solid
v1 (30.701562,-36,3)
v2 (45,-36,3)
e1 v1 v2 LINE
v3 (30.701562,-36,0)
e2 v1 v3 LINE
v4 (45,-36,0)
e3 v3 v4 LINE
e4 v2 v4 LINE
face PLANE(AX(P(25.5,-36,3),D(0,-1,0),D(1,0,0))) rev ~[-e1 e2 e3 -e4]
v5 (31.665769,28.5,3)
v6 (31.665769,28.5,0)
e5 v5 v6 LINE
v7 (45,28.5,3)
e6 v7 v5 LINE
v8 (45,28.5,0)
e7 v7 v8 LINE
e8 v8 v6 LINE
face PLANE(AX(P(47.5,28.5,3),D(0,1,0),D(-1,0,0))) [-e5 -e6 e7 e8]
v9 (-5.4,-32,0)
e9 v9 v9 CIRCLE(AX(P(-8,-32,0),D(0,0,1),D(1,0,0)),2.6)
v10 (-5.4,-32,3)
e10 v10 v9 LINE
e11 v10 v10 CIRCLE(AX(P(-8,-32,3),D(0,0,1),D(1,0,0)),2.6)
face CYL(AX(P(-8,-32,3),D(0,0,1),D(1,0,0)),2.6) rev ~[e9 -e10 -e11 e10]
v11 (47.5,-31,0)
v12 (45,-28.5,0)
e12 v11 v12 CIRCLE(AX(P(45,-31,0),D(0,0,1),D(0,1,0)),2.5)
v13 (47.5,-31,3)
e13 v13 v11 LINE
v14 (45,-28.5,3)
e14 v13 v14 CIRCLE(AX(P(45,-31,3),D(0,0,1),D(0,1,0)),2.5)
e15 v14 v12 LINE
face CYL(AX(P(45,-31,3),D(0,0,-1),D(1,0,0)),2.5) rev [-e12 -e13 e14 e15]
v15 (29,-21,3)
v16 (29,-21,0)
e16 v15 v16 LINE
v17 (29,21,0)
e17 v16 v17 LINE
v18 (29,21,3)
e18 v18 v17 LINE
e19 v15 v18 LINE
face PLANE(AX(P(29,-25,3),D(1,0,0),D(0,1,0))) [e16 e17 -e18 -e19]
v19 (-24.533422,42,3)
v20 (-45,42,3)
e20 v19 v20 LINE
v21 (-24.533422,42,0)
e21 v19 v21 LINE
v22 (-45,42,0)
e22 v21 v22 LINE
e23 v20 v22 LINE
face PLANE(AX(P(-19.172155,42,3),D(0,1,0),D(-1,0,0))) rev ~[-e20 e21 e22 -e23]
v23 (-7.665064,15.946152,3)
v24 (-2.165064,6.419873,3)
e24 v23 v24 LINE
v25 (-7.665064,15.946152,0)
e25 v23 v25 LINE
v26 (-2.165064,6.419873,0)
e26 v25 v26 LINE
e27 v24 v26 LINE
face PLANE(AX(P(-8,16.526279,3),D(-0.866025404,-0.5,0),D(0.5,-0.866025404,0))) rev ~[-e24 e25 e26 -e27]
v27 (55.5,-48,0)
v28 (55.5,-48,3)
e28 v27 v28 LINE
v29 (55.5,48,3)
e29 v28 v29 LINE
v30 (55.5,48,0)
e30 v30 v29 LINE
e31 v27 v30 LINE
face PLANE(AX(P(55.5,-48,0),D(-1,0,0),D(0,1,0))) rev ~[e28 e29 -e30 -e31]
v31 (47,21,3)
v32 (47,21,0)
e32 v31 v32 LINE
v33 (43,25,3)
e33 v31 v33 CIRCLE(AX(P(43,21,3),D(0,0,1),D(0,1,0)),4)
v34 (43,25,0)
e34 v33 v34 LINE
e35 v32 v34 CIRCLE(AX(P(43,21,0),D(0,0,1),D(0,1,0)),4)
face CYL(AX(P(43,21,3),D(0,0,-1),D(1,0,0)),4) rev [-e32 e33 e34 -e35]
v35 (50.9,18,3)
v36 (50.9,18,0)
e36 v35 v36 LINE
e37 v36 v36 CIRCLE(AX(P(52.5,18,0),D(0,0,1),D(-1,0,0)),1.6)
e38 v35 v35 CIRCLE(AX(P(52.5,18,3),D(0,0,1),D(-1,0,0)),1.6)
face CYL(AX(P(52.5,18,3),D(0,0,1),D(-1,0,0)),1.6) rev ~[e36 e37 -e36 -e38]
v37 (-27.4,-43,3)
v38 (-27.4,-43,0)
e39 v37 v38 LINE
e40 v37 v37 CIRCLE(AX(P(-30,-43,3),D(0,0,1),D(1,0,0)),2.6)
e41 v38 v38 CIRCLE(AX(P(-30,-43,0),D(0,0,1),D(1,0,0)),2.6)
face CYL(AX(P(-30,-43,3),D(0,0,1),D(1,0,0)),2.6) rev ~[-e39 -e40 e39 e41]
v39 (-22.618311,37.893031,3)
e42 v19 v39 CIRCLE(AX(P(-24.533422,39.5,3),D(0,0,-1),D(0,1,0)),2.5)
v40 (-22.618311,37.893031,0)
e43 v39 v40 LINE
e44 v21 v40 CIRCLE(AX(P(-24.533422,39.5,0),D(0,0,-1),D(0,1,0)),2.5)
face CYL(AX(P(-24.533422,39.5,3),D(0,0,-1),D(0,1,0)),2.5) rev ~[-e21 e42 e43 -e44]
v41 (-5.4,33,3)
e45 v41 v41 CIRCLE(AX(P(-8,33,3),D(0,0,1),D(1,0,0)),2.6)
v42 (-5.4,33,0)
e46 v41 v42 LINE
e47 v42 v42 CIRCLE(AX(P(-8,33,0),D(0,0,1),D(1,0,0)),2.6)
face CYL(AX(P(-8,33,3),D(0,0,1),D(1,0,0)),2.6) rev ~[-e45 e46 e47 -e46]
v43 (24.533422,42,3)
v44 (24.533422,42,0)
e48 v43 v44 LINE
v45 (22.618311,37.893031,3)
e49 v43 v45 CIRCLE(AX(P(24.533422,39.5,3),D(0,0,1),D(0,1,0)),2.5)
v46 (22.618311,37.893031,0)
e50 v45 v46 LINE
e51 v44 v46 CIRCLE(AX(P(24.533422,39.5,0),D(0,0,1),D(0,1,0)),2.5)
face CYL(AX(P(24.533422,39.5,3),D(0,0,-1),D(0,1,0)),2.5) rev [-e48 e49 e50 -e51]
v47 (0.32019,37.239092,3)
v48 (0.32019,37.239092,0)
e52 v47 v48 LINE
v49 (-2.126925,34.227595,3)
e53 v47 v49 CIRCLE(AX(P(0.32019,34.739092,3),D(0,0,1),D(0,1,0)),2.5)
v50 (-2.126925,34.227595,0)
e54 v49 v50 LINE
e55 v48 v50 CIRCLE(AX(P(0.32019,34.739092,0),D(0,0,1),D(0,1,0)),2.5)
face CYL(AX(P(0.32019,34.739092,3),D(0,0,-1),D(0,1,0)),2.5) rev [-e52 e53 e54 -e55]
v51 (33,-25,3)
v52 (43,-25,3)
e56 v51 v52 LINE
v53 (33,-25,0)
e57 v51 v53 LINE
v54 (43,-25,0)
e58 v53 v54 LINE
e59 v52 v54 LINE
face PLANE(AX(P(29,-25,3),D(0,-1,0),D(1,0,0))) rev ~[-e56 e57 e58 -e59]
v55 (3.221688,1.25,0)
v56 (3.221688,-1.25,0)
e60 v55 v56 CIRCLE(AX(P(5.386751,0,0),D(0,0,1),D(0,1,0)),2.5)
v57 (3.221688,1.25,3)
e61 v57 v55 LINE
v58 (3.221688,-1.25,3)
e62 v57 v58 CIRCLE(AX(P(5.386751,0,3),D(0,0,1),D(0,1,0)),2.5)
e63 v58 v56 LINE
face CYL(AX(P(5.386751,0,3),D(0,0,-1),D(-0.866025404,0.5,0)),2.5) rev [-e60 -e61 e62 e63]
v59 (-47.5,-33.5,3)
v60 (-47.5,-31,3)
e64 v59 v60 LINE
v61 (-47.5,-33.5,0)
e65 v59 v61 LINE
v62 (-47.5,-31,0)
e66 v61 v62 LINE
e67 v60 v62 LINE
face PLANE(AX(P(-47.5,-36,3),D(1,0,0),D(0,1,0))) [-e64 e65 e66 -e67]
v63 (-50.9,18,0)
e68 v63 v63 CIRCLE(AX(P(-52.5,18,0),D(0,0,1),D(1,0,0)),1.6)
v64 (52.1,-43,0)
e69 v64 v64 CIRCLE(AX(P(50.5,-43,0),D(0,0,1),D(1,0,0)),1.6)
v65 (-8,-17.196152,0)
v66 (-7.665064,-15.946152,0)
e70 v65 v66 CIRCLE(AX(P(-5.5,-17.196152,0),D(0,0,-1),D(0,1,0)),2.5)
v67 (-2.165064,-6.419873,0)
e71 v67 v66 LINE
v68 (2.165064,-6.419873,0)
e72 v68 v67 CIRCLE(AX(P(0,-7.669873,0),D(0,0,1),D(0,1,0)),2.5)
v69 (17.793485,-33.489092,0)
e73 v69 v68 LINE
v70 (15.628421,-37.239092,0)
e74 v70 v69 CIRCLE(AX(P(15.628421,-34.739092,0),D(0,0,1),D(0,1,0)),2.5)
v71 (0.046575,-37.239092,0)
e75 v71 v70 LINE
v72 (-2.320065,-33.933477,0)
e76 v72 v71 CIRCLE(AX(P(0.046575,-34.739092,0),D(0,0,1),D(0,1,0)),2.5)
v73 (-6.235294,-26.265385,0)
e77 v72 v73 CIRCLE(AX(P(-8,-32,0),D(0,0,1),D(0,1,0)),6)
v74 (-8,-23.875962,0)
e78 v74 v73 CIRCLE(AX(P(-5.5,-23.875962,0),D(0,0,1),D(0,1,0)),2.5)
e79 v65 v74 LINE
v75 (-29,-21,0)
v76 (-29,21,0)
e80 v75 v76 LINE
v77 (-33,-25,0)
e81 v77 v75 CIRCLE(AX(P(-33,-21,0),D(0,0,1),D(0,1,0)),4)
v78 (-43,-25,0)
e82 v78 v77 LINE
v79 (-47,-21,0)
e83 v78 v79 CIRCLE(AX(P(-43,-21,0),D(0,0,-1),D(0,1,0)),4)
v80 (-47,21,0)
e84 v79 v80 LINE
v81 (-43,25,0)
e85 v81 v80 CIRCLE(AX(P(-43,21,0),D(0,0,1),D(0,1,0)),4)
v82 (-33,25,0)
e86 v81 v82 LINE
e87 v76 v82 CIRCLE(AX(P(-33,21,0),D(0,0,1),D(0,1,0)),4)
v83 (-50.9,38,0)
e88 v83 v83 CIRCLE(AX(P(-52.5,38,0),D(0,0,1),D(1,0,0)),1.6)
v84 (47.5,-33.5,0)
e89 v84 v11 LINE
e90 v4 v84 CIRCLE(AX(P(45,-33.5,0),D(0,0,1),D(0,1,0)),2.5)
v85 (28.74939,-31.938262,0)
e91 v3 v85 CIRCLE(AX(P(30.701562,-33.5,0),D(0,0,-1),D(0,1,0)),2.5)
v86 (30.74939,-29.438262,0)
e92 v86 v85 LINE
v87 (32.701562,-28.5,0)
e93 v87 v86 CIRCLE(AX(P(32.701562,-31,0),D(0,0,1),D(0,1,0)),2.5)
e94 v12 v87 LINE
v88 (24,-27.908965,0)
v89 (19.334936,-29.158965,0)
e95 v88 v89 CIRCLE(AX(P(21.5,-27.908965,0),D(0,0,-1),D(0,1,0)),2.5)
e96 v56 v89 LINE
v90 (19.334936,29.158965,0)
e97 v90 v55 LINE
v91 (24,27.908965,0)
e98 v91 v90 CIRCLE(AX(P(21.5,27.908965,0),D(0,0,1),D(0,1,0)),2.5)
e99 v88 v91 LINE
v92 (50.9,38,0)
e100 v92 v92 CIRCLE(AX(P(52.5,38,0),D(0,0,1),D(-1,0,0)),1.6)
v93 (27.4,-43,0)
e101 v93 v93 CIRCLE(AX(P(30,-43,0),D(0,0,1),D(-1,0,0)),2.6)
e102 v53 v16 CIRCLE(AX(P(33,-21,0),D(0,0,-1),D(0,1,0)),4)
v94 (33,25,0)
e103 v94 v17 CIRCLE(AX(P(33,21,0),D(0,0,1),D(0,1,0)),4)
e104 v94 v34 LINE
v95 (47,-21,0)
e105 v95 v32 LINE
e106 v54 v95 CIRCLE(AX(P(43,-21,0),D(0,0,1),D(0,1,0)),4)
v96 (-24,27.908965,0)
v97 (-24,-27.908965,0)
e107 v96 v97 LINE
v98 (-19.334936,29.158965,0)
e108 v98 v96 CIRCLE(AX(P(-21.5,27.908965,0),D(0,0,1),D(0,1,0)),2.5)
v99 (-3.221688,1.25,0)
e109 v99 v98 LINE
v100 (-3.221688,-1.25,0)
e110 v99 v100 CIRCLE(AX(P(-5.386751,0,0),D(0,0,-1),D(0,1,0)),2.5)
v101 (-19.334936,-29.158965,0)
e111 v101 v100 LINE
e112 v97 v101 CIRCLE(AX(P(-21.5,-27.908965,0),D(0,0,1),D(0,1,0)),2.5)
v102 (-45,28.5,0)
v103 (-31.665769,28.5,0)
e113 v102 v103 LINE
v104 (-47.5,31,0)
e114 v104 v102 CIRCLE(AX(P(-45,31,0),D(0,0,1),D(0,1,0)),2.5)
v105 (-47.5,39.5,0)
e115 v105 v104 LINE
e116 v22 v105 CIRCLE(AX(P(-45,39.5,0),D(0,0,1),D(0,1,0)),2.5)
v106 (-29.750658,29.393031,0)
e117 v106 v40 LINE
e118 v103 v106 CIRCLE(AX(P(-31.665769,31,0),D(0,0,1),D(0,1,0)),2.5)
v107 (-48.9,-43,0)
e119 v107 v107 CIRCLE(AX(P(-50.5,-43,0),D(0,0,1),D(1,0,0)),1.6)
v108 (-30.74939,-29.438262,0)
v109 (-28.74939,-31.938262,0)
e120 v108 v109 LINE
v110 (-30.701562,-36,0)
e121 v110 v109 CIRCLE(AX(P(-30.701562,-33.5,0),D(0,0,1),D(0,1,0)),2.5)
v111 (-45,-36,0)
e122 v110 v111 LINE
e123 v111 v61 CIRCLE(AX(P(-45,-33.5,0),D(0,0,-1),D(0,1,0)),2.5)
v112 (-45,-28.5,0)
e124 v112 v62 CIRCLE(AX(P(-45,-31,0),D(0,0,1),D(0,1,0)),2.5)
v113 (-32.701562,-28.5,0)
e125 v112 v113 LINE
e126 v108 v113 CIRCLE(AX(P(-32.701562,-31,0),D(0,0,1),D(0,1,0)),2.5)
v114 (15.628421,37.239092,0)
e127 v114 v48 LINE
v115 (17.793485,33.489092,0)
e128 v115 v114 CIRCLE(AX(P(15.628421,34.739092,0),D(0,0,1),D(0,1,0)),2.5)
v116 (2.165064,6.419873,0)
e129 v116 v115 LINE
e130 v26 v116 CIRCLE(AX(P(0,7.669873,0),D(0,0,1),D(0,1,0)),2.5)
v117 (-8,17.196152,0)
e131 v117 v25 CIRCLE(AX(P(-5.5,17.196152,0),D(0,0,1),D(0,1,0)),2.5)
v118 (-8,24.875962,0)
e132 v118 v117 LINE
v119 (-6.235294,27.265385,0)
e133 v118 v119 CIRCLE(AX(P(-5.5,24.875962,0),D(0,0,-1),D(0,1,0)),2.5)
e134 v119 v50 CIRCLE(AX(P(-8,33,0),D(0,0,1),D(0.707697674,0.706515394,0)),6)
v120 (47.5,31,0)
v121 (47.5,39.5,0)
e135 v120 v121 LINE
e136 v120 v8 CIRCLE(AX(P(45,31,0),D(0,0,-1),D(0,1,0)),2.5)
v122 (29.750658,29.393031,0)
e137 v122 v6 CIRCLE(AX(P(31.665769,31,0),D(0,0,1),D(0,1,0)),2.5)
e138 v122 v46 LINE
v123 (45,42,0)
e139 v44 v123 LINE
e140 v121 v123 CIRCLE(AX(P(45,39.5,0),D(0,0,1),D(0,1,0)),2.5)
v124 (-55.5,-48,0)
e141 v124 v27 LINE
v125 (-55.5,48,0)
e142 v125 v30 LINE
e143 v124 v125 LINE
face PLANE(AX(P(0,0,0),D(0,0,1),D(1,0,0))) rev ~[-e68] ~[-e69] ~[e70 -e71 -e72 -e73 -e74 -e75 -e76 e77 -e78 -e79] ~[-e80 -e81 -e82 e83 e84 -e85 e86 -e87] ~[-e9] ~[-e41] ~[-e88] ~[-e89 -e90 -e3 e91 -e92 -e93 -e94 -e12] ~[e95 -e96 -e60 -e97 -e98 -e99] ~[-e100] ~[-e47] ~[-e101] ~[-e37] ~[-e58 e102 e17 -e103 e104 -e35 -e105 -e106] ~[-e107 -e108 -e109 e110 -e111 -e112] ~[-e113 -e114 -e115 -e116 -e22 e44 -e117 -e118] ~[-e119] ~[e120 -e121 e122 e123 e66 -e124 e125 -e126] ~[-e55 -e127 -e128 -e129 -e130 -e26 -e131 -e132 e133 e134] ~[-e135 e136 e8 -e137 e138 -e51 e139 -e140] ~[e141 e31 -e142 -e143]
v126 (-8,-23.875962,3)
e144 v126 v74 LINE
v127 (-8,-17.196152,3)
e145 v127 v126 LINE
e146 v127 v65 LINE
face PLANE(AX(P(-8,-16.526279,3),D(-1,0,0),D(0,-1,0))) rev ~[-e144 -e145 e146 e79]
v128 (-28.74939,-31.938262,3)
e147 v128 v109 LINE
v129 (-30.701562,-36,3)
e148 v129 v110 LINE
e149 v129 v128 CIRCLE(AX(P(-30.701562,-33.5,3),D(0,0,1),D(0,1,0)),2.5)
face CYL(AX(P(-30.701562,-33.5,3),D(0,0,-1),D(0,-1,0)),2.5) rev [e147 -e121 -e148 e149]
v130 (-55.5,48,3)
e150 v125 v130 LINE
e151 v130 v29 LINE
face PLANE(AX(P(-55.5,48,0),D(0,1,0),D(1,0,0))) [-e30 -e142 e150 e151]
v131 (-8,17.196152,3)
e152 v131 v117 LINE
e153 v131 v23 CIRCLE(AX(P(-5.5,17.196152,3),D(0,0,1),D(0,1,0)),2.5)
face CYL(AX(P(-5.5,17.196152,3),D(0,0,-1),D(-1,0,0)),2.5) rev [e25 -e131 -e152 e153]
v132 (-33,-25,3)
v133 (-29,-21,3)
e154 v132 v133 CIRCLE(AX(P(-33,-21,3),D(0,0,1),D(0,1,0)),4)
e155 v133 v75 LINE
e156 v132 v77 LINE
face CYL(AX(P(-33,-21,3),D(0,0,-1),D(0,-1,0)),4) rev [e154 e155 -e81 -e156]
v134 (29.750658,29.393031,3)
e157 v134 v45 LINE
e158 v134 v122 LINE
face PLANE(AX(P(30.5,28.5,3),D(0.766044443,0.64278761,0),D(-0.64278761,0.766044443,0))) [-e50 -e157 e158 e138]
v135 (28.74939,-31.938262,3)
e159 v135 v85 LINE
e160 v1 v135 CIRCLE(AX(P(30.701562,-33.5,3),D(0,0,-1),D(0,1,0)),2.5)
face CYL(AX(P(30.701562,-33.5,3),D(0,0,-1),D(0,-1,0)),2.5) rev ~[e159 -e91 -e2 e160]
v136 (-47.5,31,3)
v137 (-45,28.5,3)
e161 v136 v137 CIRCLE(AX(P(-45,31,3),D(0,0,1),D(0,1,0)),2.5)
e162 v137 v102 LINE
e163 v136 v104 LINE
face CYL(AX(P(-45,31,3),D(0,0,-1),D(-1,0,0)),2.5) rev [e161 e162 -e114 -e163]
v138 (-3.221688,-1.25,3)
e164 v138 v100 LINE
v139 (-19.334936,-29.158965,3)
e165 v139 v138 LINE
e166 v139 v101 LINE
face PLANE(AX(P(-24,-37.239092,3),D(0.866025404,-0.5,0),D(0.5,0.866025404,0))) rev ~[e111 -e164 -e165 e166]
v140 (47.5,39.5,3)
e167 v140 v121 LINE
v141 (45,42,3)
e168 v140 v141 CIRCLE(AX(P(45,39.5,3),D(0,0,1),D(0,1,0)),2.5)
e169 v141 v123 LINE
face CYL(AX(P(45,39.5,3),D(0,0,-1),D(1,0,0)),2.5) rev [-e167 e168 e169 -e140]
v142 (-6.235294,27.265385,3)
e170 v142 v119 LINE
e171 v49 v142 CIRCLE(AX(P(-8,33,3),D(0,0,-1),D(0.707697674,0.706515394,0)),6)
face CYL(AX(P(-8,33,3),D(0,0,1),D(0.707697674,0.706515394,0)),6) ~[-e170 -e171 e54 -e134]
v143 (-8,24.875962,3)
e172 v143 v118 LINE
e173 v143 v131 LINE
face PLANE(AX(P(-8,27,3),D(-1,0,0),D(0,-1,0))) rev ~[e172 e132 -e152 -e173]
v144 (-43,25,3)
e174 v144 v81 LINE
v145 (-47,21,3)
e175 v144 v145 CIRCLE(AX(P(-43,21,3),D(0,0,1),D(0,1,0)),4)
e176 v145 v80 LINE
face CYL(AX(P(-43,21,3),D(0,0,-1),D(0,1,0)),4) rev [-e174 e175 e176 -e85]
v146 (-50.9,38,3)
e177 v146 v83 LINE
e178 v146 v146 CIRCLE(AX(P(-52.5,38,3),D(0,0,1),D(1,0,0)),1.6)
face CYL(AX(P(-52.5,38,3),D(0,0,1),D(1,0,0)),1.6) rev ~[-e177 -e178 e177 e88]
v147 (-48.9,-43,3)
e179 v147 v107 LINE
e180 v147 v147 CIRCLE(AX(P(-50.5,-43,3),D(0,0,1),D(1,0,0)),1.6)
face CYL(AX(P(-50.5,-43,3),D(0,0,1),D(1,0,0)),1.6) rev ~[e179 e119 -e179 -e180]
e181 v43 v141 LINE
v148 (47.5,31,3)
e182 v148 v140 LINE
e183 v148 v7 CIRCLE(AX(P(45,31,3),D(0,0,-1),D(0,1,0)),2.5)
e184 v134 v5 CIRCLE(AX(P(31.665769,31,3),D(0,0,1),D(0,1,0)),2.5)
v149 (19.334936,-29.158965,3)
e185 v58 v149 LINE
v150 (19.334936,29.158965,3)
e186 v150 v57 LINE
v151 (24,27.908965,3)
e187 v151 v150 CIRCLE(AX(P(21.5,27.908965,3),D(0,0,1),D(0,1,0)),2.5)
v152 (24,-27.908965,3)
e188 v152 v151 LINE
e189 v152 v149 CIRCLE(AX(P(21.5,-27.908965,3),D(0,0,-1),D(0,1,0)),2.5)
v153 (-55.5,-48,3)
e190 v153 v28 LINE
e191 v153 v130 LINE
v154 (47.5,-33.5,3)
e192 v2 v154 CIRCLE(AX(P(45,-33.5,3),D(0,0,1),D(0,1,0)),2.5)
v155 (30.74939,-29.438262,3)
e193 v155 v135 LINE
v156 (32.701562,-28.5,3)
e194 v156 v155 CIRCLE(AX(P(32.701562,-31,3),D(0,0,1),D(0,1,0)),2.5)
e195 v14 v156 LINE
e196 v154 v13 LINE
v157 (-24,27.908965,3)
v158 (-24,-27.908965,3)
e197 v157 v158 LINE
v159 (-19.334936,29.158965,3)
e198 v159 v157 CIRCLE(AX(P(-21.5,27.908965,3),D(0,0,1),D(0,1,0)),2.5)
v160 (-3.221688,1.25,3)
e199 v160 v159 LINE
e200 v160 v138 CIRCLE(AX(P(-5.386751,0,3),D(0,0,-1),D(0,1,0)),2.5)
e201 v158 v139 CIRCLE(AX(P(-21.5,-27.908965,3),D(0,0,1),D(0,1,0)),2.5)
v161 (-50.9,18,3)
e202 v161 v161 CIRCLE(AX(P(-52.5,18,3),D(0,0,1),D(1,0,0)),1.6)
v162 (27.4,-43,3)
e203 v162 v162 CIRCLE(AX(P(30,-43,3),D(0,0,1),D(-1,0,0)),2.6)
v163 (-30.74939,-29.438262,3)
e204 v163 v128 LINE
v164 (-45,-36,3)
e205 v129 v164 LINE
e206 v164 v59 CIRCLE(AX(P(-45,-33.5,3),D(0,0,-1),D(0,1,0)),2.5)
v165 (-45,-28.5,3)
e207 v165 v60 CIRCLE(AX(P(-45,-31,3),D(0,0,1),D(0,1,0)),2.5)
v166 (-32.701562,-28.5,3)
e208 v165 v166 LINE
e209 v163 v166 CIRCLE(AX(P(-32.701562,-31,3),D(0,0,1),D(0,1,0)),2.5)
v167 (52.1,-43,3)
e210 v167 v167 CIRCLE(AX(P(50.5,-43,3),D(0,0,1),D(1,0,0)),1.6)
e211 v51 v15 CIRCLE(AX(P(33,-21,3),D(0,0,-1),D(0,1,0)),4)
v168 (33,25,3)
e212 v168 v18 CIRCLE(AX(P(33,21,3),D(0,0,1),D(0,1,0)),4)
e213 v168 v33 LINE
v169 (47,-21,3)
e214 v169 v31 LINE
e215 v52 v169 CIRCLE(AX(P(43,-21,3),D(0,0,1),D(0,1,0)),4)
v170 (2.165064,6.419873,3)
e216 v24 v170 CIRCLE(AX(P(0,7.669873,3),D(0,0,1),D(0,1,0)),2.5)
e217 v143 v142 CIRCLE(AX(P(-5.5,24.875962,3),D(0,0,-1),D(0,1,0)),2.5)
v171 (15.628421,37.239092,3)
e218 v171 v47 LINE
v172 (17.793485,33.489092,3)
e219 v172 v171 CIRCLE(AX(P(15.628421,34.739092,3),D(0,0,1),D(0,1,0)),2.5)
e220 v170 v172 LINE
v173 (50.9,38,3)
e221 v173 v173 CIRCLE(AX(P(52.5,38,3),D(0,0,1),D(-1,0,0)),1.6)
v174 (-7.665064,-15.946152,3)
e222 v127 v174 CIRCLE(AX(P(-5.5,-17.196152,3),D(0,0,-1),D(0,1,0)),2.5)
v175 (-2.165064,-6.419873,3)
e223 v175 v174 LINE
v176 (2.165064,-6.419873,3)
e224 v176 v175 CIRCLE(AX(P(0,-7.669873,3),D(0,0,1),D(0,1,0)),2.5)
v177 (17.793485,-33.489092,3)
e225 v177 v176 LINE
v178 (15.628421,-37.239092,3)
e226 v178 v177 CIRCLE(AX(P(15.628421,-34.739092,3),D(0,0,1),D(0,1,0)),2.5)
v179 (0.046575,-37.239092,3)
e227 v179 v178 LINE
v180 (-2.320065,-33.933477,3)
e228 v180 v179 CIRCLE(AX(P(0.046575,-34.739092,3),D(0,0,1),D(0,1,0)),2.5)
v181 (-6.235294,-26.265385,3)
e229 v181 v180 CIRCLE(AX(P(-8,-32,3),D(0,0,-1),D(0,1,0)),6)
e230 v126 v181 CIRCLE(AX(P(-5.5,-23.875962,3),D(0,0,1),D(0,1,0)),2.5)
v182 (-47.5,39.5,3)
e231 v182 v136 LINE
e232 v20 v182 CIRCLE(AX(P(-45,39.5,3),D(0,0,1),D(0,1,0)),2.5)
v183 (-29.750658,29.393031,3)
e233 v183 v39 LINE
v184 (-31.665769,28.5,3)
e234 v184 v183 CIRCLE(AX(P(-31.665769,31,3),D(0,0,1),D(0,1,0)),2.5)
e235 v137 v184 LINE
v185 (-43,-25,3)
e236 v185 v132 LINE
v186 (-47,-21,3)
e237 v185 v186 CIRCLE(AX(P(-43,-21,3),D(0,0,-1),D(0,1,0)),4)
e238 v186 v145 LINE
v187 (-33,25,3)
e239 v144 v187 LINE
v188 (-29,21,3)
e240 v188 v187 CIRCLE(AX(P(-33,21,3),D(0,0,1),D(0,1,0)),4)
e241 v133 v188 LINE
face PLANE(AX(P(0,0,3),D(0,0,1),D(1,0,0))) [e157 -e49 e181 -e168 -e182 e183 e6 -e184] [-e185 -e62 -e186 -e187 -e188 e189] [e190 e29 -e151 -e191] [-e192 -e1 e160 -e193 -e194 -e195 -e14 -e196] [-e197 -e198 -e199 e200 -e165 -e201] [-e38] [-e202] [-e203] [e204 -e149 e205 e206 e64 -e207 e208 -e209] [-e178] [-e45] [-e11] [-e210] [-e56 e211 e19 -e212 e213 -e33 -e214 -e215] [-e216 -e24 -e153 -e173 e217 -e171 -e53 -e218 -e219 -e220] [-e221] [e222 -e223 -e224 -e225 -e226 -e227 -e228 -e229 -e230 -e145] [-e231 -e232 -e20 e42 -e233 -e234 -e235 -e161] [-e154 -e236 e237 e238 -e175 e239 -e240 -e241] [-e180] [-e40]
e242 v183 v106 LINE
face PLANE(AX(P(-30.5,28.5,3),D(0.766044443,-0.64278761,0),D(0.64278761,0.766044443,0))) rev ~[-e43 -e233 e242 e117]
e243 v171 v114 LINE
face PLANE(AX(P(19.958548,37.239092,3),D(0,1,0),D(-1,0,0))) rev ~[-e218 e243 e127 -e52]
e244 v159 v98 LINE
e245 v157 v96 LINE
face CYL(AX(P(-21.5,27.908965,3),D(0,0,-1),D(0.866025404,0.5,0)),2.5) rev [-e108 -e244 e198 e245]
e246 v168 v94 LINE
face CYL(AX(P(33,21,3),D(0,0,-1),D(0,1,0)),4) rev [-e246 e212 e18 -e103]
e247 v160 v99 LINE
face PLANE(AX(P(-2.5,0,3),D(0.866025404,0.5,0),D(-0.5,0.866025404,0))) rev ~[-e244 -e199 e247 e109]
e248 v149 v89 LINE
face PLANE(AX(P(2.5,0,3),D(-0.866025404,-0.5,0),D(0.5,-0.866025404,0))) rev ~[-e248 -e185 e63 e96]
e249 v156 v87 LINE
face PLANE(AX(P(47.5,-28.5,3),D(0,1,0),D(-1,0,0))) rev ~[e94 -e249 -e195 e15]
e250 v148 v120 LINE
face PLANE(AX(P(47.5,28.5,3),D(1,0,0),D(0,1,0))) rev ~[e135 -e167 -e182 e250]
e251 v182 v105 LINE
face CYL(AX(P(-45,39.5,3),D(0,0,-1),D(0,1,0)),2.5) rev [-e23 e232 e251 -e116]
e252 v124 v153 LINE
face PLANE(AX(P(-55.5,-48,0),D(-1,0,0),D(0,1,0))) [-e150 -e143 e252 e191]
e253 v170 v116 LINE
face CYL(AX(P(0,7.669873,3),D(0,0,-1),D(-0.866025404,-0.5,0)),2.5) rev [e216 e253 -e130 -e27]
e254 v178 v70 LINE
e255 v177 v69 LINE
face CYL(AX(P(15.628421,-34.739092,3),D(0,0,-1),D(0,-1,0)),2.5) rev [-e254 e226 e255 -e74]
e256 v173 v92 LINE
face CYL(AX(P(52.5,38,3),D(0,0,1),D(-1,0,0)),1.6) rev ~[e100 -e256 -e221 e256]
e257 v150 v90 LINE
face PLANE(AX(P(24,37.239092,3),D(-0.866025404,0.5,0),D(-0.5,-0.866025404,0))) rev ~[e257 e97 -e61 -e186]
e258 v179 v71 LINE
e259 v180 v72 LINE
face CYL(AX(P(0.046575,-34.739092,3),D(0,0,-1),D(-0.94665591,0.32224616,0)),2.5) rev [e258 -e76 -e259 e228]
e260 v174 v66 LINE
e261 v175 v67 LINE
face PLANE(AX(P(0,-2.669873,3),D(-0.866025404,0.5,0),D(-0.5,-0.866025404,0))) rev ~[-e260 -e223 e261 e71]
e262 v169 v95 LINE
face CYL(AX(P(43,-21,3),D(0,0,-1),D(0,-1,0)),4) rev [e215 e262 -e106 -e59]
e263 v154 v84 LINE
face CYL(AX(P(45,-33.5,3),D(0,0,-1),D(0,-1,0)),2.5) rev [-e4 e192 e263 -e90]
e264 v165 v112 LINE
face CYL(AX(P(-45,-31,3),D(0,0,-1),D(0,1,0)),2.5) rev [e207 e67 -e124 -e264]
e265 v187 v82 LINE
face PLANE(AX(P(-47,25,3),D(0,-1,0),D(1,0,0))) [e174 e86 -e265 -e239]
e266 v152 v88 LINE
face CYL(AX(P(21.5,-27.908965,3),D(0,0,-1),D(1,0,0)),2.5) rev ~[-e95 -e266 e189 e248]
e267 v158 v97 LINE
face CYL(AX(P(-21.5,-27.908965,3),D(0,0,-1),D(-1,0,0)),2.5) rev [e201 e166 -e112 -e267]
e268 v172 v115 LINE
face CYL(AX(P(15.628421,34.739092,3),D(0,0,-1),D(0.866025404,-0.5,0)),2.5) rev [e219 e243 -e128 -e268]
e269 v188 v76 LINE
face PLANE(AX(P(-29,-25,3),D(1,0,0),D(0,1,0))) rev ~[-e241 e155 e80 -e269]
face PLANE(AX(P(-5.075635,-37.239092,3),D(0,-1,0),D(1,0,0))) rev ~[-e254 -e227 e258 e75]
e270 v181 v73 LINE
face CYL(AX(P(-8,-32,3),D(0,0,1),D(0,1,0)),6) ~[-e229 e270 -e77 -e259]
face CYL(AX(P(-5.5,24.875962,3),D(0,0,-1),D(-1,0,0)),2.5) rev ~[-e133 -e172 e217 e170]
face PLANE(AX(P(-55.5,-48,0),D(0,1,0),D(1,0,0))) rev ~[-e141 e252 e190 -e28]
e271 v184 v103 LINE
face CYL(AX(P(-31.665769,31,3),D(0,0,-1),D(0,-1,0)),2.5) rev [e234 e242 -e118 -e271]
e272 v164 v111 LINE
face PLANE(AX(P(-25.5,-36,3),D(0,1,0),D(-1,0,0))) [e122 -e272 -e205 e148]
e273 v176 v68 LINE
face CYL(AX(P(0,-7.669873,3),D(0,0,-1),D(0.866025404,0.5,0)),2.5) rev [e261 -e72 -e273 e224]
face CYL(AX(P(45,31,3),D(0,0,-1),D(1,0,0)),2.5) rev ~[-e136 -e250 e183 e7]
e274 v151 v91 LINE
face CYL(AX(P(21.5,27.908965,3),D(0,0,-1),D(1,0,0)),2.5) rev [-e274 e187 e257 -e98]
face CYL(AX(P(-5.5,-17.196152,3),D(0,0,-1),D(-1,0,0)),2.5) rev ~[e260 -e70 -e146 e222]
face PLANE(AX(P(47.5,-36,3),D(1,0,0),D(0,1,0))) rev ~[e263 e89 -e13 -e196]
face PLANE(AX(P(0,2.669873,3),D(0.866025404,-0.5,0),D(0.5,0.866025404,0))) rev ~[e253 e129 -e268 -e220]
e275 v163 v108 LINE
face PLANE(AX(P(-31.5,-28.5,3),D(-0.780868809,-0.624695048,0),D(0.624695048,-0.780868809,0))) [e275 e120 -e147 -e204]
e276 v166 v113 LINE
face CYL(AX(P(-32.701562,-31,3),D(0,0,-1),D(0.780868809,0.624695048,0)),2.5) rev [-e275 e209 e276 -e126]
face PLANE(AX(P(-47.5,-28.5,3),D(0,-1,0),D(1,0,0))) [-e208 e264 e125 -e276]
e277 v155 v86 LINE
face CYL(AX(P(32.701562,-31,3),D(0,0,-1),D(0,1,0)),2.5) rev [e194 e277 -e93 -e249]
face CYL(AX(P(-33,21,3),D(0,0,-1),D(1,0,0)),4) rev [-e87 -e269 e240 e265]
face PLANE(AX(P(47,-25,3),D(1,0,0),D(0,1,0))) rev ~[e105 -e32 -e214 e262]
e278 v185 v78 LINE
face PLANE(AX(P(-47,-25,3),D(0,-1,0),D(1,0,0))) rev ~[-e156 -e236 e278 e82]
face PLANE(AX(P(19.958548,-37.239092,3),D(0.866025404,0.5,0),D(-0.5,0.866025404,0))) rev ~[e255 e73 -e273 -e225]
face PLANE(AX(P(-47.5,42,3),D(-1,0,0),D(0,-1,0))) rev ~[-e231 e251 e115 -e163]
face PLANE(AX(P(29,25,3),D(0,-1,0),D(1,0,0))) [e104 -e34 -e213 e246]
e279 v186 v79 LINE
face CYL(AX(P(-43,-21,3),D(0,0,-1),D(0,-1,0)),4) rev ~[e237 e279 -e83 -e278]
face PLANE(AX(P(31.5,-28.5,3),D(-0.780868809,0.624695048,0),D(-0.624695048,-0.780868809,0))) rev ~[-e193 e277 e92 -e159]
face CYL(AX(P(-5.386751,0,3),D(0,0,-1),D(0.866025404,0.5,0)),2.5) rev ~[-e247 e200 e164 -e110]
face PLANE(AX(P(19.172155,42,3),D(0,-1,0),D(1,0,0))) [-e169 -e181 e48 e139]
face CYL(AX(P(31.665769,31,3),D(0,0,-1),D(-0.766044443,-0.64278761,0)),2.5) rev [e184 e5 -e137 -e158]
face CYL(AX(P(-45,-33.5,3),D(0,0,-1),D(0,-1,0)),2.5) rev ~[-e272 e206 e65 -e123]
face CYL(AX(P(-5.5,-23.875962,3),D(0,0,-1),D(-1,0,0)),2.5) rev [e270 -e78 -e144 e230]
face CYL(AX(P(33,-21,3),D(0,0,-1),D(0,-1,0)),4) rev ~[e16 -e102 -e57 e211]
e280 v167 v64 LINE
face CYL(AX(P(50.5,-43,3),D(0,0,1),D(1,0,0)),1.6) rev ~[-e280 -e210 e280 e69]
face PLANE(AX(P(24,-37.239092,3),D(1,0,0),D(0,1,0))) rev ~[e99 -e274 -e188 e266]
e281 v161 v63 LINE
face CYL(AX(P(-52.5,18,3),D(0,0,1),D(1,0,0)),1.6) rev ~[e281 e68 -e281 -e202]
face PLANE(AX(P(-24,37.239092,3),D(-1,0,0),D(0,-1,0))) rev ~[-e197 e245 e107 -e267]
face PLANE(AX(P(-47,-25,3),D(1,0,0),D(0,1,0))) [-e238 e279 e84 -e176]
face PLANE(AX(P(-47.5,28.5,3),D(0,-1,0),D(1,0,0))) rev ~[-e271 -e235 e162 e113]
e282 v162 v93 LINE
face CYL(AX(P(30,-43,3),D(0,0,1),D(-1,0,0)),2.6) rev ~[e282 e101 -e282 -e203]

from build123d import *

# Parameters (mm, degrees)
SKETCH_1_W           = 111
SKETCH_1_H           = 96
EXTRUDE_1_DEPTH      = 3
SKETCH_2_R           = 1.6
CUT_EXTRUDE_1_DEPTH  = 74.438749989
SKETCH_3_R           = 2.6
CUT_EXTRUDE_2_DEPTH  = 74.438749989
SKETCH_4_R           = 1.6
CUT_EXTRUDE_3_DEPTH  = 74.438749989
SKETCH_8_R           = 2.6
CUT_EXTRUDE_10_DEPTH = 74.438749989
SKETCH_5_W           = 18
SKETCH_5_H           = 50
CUT_EXTRUDE_4_DEPTH  = 74.438749989
FILLET_1_R           = 4
CUT_EXTRUDE_8_DEPTH  = 74.438749989
FILLET_2_R           = 2.5
CUT_EXTRUDE_9_DEPTH  = 74.438749989
FILLET_3_R           = 2.5


with BuildPart() as part:
    # 草图1 → 凸台-拉伸1 (new body)
    with BuildSketch(Plane.XY):
        Rectangle(SKETCH_1_W, SKETCH_1_H)
    extrude(amount=EXTRUDE_1_DEPTH)

    # 草图2 → 切除-拉伸1 (cut, through all)
    with BuildSketch(Plane.XY.offset(3)):
        with Locations((-50.5, -43)):
            Circle(SKETCH_2_R)
        with Locations((50.5, -43)):
            Circle(SKETCH_2_R)
    extrude(amount=-CUT_EXTRUDE_1_DEPTH, mode=Mode.SUBTRACT)

    # 草图3 → 切除-拉伸2 (cut, through all)
    with BuildSketch(Plane.XY.offset(3)):
        with Locations((-30, -43)):
            Circle(SKETCH_3_R)
        with Locations(Location((30, -43, 0), (0, 0, 180))):
            Circle(SKETCH_3_R)
    extrude(amount=-CUT_EXTRUDE_2_DEPTH, mode=Mode.SUBTRACT)

    # 草图4 → 切除-拉伸3 (cut, through all)
    with BuildSketch(Plane.XY.offset(3)):
        with Locations((-52.5, 18)):
            Circle(SKETCH_4_R)
        with Locations((-52.5, 38)):
            Circle(SKETCH_4_R)
        with Locations(Location((52.5, 38, 0), (0, 0, 180))):
            Circle(SKETCH_4_R)
        with Locations(Location((52.5, 18, 0), (0, 0, 180))):
            Circle(SKETCH_4_R)
    extrude(amount=-CUT_EXTRUDE_3_DEPTH, mode=Mode.SUBTRACT)

    # 草图8 → 切除-拉伸10 (cut, through all)
    with BuildSketch(Plane.XY.offset(3)):
        with Locations((-8, -32)):
            Circle(SKETCH_8_R)
        with Locations((-8, 33)):
            Circle(SKETCH_8_R)
    extrude(amount=-CUT_EXTRUDE_10_DEPTH, mode=Mode.SUBTRACT)

    # 草图5 → 切除-拉伸4 (cut, through all)
    with BuildSketch(Plane.XY.offset(3)):
        with Locations((-38, 0)):
            Rectangle(SKETCH_5_W, SKETCH_5_H)
        with Locations((38, 0)):
            Rectangle(SKETCH_5_W, SKETCH_5_H)
    extrude(amount=-CUT_EXTRUDE_4_DEPTH, mode=Mode.SUBTRACT)

    # 圆角1
    fillet_1_edges = [part.edges().sort_by_distance(p)[0] for p in [
        (-47, 25, 1.5),
        (-29, 25, 1.5),
        (-29, -25, 1.5),
        (-47, -25, 1.5),
        (47, -25, 1.5),
        (29, -25, 1.5),
        (29, 25, 1.5),
        (47, 25, 1.5),
    ]]
    fillet(fillet_1_edges, radius=FILLET_1_R)

    # 草图6 → 切除-拉伸8 (cut, through all)
    with BuildSketch(Plane.XY.offset(3)):
        with BuildLine():
            ThreePointArc((-3.753813954, 37.239092363), (-2.457683058, 30.70158252), (-8, 27))
            Line((-8, 27), (-8, 16.526279442))
            Line((-8, 16.526279442), (0, 2.669872981))
            Line((0, 2.669872981), (19.958548116, 37.239092363))
            Line((19.958548116, 37.239092363), (-3.753813954, 37.239092363))
        make_face()
        with BuildLine():
            Line((-8, -16.526279442), (-8, -26))
            ThreePointArc((-8, -26), (-2.193342004, -30.489131736), (-5.075634904, -37.239092363))
            Line((-5.075634904, -37.239092363), (19.958548116, -37.239092363))
            Line((19.958548116, -37.239092363), (0, -2.669872981))
            Line((0, -2.669872981), (-8, -16.526279442))
        make_face()
        Polygon((-2.5, 0), (-24, 37.239092363), (-24, -37.239092363), align=None)
        Polygon((24, -37.239092363), (24, 37.239092363), (2.5, 0), align=None)
    extrude(amount=-CUT_EXTRUDE_8_DEPTH, mode=Mode.SUBTRACT)

    # 圆角2
    fillet_2_edges = [part.edges().sort_by_distance(p)[0] for p in [
        (24, -37.239092363, 1.5),
        (2.5, 0, 1.5),
        (24, 37.239092363, 1.5),
        (-8, 27, 1.5),
        (-3.753813954, 37.239092363, 1.5),
        (19.958548116, 37.239092363, 1.5),
        (0, 2.669872981, 1.5),
        (-8, 16.526279442, 1.5),
        (-5.075634904, -37.239092363, 1.5),
        (-8, -26, 1.5),
        (-8, -16.526279442, 1.5),
        (0, -2.669872981, 1.5),
        (19.958548116, -37.239092363, 1.5),
        (-24, -37.239092363, 1.5),
        (-24, 37.239092363, 1.5),
        (-2.5, 0, 1.5),
    ]]
    fillet(fillet_2_edges, radius=FILLET_2_R)

    # 草图7 → 切除-拉伸9 (cut, through all)
    with BuildSketch(Plane.XY.offset(3)):
        Polygon((-19.172154979, 42), (-47.5, 42), (-47.5, 38), (-47.5, 28.5), (-30.5, 28.5), align=None)
        Polygon((-47.5, -36), (-47.5, -28.5), (-31.5, -28.5), (-25.5, -36), align=None)
        Polygon((25.5, -36), (47.5, -36), (47.5, -28.5), (31.5, -28.5), align=None)
        Polygon((47.5, 42), (47.5, 38), (47.5, 28.5), (30.5, 28.5), (19.172154979, 42), align=None)
    extrude(amount=-CUT_EXTRUDE_9_DEPTH, mode=Mode.SUBTRACT)

    # 圆角3
    fillet_3_edges = [part.edges().sort_by_distance(p)[0] for p in [
        (47.5, 42, 1.5),
        (47.5, 28.5, 1.5),
        (30.5, 28.5, 1.5),
        (19.172154979, 42, 1.5),
        (47.5, -36, 1.5),
        (25.5, -36, 1.5),
        (31.5, -28.5, 1.5),
        (47.5, -28.5, 1.5),
        (-47.5, -36, 1.5),
        (-47.5, -28.5, 1.5),
        (-31.5, -28.5, 1.5),
        (-25.5, -36, 1.5),
        (-47.5, 42, 1.5),
        (-19.172154979, 42, 1.5),
        (-30.5, 28.5, 1.5),
        (-47.5, 28.5, 1.5),
    ]]
    fillet(fillet_3_edges, radius=FILLET_3_R)


solid = part.part
